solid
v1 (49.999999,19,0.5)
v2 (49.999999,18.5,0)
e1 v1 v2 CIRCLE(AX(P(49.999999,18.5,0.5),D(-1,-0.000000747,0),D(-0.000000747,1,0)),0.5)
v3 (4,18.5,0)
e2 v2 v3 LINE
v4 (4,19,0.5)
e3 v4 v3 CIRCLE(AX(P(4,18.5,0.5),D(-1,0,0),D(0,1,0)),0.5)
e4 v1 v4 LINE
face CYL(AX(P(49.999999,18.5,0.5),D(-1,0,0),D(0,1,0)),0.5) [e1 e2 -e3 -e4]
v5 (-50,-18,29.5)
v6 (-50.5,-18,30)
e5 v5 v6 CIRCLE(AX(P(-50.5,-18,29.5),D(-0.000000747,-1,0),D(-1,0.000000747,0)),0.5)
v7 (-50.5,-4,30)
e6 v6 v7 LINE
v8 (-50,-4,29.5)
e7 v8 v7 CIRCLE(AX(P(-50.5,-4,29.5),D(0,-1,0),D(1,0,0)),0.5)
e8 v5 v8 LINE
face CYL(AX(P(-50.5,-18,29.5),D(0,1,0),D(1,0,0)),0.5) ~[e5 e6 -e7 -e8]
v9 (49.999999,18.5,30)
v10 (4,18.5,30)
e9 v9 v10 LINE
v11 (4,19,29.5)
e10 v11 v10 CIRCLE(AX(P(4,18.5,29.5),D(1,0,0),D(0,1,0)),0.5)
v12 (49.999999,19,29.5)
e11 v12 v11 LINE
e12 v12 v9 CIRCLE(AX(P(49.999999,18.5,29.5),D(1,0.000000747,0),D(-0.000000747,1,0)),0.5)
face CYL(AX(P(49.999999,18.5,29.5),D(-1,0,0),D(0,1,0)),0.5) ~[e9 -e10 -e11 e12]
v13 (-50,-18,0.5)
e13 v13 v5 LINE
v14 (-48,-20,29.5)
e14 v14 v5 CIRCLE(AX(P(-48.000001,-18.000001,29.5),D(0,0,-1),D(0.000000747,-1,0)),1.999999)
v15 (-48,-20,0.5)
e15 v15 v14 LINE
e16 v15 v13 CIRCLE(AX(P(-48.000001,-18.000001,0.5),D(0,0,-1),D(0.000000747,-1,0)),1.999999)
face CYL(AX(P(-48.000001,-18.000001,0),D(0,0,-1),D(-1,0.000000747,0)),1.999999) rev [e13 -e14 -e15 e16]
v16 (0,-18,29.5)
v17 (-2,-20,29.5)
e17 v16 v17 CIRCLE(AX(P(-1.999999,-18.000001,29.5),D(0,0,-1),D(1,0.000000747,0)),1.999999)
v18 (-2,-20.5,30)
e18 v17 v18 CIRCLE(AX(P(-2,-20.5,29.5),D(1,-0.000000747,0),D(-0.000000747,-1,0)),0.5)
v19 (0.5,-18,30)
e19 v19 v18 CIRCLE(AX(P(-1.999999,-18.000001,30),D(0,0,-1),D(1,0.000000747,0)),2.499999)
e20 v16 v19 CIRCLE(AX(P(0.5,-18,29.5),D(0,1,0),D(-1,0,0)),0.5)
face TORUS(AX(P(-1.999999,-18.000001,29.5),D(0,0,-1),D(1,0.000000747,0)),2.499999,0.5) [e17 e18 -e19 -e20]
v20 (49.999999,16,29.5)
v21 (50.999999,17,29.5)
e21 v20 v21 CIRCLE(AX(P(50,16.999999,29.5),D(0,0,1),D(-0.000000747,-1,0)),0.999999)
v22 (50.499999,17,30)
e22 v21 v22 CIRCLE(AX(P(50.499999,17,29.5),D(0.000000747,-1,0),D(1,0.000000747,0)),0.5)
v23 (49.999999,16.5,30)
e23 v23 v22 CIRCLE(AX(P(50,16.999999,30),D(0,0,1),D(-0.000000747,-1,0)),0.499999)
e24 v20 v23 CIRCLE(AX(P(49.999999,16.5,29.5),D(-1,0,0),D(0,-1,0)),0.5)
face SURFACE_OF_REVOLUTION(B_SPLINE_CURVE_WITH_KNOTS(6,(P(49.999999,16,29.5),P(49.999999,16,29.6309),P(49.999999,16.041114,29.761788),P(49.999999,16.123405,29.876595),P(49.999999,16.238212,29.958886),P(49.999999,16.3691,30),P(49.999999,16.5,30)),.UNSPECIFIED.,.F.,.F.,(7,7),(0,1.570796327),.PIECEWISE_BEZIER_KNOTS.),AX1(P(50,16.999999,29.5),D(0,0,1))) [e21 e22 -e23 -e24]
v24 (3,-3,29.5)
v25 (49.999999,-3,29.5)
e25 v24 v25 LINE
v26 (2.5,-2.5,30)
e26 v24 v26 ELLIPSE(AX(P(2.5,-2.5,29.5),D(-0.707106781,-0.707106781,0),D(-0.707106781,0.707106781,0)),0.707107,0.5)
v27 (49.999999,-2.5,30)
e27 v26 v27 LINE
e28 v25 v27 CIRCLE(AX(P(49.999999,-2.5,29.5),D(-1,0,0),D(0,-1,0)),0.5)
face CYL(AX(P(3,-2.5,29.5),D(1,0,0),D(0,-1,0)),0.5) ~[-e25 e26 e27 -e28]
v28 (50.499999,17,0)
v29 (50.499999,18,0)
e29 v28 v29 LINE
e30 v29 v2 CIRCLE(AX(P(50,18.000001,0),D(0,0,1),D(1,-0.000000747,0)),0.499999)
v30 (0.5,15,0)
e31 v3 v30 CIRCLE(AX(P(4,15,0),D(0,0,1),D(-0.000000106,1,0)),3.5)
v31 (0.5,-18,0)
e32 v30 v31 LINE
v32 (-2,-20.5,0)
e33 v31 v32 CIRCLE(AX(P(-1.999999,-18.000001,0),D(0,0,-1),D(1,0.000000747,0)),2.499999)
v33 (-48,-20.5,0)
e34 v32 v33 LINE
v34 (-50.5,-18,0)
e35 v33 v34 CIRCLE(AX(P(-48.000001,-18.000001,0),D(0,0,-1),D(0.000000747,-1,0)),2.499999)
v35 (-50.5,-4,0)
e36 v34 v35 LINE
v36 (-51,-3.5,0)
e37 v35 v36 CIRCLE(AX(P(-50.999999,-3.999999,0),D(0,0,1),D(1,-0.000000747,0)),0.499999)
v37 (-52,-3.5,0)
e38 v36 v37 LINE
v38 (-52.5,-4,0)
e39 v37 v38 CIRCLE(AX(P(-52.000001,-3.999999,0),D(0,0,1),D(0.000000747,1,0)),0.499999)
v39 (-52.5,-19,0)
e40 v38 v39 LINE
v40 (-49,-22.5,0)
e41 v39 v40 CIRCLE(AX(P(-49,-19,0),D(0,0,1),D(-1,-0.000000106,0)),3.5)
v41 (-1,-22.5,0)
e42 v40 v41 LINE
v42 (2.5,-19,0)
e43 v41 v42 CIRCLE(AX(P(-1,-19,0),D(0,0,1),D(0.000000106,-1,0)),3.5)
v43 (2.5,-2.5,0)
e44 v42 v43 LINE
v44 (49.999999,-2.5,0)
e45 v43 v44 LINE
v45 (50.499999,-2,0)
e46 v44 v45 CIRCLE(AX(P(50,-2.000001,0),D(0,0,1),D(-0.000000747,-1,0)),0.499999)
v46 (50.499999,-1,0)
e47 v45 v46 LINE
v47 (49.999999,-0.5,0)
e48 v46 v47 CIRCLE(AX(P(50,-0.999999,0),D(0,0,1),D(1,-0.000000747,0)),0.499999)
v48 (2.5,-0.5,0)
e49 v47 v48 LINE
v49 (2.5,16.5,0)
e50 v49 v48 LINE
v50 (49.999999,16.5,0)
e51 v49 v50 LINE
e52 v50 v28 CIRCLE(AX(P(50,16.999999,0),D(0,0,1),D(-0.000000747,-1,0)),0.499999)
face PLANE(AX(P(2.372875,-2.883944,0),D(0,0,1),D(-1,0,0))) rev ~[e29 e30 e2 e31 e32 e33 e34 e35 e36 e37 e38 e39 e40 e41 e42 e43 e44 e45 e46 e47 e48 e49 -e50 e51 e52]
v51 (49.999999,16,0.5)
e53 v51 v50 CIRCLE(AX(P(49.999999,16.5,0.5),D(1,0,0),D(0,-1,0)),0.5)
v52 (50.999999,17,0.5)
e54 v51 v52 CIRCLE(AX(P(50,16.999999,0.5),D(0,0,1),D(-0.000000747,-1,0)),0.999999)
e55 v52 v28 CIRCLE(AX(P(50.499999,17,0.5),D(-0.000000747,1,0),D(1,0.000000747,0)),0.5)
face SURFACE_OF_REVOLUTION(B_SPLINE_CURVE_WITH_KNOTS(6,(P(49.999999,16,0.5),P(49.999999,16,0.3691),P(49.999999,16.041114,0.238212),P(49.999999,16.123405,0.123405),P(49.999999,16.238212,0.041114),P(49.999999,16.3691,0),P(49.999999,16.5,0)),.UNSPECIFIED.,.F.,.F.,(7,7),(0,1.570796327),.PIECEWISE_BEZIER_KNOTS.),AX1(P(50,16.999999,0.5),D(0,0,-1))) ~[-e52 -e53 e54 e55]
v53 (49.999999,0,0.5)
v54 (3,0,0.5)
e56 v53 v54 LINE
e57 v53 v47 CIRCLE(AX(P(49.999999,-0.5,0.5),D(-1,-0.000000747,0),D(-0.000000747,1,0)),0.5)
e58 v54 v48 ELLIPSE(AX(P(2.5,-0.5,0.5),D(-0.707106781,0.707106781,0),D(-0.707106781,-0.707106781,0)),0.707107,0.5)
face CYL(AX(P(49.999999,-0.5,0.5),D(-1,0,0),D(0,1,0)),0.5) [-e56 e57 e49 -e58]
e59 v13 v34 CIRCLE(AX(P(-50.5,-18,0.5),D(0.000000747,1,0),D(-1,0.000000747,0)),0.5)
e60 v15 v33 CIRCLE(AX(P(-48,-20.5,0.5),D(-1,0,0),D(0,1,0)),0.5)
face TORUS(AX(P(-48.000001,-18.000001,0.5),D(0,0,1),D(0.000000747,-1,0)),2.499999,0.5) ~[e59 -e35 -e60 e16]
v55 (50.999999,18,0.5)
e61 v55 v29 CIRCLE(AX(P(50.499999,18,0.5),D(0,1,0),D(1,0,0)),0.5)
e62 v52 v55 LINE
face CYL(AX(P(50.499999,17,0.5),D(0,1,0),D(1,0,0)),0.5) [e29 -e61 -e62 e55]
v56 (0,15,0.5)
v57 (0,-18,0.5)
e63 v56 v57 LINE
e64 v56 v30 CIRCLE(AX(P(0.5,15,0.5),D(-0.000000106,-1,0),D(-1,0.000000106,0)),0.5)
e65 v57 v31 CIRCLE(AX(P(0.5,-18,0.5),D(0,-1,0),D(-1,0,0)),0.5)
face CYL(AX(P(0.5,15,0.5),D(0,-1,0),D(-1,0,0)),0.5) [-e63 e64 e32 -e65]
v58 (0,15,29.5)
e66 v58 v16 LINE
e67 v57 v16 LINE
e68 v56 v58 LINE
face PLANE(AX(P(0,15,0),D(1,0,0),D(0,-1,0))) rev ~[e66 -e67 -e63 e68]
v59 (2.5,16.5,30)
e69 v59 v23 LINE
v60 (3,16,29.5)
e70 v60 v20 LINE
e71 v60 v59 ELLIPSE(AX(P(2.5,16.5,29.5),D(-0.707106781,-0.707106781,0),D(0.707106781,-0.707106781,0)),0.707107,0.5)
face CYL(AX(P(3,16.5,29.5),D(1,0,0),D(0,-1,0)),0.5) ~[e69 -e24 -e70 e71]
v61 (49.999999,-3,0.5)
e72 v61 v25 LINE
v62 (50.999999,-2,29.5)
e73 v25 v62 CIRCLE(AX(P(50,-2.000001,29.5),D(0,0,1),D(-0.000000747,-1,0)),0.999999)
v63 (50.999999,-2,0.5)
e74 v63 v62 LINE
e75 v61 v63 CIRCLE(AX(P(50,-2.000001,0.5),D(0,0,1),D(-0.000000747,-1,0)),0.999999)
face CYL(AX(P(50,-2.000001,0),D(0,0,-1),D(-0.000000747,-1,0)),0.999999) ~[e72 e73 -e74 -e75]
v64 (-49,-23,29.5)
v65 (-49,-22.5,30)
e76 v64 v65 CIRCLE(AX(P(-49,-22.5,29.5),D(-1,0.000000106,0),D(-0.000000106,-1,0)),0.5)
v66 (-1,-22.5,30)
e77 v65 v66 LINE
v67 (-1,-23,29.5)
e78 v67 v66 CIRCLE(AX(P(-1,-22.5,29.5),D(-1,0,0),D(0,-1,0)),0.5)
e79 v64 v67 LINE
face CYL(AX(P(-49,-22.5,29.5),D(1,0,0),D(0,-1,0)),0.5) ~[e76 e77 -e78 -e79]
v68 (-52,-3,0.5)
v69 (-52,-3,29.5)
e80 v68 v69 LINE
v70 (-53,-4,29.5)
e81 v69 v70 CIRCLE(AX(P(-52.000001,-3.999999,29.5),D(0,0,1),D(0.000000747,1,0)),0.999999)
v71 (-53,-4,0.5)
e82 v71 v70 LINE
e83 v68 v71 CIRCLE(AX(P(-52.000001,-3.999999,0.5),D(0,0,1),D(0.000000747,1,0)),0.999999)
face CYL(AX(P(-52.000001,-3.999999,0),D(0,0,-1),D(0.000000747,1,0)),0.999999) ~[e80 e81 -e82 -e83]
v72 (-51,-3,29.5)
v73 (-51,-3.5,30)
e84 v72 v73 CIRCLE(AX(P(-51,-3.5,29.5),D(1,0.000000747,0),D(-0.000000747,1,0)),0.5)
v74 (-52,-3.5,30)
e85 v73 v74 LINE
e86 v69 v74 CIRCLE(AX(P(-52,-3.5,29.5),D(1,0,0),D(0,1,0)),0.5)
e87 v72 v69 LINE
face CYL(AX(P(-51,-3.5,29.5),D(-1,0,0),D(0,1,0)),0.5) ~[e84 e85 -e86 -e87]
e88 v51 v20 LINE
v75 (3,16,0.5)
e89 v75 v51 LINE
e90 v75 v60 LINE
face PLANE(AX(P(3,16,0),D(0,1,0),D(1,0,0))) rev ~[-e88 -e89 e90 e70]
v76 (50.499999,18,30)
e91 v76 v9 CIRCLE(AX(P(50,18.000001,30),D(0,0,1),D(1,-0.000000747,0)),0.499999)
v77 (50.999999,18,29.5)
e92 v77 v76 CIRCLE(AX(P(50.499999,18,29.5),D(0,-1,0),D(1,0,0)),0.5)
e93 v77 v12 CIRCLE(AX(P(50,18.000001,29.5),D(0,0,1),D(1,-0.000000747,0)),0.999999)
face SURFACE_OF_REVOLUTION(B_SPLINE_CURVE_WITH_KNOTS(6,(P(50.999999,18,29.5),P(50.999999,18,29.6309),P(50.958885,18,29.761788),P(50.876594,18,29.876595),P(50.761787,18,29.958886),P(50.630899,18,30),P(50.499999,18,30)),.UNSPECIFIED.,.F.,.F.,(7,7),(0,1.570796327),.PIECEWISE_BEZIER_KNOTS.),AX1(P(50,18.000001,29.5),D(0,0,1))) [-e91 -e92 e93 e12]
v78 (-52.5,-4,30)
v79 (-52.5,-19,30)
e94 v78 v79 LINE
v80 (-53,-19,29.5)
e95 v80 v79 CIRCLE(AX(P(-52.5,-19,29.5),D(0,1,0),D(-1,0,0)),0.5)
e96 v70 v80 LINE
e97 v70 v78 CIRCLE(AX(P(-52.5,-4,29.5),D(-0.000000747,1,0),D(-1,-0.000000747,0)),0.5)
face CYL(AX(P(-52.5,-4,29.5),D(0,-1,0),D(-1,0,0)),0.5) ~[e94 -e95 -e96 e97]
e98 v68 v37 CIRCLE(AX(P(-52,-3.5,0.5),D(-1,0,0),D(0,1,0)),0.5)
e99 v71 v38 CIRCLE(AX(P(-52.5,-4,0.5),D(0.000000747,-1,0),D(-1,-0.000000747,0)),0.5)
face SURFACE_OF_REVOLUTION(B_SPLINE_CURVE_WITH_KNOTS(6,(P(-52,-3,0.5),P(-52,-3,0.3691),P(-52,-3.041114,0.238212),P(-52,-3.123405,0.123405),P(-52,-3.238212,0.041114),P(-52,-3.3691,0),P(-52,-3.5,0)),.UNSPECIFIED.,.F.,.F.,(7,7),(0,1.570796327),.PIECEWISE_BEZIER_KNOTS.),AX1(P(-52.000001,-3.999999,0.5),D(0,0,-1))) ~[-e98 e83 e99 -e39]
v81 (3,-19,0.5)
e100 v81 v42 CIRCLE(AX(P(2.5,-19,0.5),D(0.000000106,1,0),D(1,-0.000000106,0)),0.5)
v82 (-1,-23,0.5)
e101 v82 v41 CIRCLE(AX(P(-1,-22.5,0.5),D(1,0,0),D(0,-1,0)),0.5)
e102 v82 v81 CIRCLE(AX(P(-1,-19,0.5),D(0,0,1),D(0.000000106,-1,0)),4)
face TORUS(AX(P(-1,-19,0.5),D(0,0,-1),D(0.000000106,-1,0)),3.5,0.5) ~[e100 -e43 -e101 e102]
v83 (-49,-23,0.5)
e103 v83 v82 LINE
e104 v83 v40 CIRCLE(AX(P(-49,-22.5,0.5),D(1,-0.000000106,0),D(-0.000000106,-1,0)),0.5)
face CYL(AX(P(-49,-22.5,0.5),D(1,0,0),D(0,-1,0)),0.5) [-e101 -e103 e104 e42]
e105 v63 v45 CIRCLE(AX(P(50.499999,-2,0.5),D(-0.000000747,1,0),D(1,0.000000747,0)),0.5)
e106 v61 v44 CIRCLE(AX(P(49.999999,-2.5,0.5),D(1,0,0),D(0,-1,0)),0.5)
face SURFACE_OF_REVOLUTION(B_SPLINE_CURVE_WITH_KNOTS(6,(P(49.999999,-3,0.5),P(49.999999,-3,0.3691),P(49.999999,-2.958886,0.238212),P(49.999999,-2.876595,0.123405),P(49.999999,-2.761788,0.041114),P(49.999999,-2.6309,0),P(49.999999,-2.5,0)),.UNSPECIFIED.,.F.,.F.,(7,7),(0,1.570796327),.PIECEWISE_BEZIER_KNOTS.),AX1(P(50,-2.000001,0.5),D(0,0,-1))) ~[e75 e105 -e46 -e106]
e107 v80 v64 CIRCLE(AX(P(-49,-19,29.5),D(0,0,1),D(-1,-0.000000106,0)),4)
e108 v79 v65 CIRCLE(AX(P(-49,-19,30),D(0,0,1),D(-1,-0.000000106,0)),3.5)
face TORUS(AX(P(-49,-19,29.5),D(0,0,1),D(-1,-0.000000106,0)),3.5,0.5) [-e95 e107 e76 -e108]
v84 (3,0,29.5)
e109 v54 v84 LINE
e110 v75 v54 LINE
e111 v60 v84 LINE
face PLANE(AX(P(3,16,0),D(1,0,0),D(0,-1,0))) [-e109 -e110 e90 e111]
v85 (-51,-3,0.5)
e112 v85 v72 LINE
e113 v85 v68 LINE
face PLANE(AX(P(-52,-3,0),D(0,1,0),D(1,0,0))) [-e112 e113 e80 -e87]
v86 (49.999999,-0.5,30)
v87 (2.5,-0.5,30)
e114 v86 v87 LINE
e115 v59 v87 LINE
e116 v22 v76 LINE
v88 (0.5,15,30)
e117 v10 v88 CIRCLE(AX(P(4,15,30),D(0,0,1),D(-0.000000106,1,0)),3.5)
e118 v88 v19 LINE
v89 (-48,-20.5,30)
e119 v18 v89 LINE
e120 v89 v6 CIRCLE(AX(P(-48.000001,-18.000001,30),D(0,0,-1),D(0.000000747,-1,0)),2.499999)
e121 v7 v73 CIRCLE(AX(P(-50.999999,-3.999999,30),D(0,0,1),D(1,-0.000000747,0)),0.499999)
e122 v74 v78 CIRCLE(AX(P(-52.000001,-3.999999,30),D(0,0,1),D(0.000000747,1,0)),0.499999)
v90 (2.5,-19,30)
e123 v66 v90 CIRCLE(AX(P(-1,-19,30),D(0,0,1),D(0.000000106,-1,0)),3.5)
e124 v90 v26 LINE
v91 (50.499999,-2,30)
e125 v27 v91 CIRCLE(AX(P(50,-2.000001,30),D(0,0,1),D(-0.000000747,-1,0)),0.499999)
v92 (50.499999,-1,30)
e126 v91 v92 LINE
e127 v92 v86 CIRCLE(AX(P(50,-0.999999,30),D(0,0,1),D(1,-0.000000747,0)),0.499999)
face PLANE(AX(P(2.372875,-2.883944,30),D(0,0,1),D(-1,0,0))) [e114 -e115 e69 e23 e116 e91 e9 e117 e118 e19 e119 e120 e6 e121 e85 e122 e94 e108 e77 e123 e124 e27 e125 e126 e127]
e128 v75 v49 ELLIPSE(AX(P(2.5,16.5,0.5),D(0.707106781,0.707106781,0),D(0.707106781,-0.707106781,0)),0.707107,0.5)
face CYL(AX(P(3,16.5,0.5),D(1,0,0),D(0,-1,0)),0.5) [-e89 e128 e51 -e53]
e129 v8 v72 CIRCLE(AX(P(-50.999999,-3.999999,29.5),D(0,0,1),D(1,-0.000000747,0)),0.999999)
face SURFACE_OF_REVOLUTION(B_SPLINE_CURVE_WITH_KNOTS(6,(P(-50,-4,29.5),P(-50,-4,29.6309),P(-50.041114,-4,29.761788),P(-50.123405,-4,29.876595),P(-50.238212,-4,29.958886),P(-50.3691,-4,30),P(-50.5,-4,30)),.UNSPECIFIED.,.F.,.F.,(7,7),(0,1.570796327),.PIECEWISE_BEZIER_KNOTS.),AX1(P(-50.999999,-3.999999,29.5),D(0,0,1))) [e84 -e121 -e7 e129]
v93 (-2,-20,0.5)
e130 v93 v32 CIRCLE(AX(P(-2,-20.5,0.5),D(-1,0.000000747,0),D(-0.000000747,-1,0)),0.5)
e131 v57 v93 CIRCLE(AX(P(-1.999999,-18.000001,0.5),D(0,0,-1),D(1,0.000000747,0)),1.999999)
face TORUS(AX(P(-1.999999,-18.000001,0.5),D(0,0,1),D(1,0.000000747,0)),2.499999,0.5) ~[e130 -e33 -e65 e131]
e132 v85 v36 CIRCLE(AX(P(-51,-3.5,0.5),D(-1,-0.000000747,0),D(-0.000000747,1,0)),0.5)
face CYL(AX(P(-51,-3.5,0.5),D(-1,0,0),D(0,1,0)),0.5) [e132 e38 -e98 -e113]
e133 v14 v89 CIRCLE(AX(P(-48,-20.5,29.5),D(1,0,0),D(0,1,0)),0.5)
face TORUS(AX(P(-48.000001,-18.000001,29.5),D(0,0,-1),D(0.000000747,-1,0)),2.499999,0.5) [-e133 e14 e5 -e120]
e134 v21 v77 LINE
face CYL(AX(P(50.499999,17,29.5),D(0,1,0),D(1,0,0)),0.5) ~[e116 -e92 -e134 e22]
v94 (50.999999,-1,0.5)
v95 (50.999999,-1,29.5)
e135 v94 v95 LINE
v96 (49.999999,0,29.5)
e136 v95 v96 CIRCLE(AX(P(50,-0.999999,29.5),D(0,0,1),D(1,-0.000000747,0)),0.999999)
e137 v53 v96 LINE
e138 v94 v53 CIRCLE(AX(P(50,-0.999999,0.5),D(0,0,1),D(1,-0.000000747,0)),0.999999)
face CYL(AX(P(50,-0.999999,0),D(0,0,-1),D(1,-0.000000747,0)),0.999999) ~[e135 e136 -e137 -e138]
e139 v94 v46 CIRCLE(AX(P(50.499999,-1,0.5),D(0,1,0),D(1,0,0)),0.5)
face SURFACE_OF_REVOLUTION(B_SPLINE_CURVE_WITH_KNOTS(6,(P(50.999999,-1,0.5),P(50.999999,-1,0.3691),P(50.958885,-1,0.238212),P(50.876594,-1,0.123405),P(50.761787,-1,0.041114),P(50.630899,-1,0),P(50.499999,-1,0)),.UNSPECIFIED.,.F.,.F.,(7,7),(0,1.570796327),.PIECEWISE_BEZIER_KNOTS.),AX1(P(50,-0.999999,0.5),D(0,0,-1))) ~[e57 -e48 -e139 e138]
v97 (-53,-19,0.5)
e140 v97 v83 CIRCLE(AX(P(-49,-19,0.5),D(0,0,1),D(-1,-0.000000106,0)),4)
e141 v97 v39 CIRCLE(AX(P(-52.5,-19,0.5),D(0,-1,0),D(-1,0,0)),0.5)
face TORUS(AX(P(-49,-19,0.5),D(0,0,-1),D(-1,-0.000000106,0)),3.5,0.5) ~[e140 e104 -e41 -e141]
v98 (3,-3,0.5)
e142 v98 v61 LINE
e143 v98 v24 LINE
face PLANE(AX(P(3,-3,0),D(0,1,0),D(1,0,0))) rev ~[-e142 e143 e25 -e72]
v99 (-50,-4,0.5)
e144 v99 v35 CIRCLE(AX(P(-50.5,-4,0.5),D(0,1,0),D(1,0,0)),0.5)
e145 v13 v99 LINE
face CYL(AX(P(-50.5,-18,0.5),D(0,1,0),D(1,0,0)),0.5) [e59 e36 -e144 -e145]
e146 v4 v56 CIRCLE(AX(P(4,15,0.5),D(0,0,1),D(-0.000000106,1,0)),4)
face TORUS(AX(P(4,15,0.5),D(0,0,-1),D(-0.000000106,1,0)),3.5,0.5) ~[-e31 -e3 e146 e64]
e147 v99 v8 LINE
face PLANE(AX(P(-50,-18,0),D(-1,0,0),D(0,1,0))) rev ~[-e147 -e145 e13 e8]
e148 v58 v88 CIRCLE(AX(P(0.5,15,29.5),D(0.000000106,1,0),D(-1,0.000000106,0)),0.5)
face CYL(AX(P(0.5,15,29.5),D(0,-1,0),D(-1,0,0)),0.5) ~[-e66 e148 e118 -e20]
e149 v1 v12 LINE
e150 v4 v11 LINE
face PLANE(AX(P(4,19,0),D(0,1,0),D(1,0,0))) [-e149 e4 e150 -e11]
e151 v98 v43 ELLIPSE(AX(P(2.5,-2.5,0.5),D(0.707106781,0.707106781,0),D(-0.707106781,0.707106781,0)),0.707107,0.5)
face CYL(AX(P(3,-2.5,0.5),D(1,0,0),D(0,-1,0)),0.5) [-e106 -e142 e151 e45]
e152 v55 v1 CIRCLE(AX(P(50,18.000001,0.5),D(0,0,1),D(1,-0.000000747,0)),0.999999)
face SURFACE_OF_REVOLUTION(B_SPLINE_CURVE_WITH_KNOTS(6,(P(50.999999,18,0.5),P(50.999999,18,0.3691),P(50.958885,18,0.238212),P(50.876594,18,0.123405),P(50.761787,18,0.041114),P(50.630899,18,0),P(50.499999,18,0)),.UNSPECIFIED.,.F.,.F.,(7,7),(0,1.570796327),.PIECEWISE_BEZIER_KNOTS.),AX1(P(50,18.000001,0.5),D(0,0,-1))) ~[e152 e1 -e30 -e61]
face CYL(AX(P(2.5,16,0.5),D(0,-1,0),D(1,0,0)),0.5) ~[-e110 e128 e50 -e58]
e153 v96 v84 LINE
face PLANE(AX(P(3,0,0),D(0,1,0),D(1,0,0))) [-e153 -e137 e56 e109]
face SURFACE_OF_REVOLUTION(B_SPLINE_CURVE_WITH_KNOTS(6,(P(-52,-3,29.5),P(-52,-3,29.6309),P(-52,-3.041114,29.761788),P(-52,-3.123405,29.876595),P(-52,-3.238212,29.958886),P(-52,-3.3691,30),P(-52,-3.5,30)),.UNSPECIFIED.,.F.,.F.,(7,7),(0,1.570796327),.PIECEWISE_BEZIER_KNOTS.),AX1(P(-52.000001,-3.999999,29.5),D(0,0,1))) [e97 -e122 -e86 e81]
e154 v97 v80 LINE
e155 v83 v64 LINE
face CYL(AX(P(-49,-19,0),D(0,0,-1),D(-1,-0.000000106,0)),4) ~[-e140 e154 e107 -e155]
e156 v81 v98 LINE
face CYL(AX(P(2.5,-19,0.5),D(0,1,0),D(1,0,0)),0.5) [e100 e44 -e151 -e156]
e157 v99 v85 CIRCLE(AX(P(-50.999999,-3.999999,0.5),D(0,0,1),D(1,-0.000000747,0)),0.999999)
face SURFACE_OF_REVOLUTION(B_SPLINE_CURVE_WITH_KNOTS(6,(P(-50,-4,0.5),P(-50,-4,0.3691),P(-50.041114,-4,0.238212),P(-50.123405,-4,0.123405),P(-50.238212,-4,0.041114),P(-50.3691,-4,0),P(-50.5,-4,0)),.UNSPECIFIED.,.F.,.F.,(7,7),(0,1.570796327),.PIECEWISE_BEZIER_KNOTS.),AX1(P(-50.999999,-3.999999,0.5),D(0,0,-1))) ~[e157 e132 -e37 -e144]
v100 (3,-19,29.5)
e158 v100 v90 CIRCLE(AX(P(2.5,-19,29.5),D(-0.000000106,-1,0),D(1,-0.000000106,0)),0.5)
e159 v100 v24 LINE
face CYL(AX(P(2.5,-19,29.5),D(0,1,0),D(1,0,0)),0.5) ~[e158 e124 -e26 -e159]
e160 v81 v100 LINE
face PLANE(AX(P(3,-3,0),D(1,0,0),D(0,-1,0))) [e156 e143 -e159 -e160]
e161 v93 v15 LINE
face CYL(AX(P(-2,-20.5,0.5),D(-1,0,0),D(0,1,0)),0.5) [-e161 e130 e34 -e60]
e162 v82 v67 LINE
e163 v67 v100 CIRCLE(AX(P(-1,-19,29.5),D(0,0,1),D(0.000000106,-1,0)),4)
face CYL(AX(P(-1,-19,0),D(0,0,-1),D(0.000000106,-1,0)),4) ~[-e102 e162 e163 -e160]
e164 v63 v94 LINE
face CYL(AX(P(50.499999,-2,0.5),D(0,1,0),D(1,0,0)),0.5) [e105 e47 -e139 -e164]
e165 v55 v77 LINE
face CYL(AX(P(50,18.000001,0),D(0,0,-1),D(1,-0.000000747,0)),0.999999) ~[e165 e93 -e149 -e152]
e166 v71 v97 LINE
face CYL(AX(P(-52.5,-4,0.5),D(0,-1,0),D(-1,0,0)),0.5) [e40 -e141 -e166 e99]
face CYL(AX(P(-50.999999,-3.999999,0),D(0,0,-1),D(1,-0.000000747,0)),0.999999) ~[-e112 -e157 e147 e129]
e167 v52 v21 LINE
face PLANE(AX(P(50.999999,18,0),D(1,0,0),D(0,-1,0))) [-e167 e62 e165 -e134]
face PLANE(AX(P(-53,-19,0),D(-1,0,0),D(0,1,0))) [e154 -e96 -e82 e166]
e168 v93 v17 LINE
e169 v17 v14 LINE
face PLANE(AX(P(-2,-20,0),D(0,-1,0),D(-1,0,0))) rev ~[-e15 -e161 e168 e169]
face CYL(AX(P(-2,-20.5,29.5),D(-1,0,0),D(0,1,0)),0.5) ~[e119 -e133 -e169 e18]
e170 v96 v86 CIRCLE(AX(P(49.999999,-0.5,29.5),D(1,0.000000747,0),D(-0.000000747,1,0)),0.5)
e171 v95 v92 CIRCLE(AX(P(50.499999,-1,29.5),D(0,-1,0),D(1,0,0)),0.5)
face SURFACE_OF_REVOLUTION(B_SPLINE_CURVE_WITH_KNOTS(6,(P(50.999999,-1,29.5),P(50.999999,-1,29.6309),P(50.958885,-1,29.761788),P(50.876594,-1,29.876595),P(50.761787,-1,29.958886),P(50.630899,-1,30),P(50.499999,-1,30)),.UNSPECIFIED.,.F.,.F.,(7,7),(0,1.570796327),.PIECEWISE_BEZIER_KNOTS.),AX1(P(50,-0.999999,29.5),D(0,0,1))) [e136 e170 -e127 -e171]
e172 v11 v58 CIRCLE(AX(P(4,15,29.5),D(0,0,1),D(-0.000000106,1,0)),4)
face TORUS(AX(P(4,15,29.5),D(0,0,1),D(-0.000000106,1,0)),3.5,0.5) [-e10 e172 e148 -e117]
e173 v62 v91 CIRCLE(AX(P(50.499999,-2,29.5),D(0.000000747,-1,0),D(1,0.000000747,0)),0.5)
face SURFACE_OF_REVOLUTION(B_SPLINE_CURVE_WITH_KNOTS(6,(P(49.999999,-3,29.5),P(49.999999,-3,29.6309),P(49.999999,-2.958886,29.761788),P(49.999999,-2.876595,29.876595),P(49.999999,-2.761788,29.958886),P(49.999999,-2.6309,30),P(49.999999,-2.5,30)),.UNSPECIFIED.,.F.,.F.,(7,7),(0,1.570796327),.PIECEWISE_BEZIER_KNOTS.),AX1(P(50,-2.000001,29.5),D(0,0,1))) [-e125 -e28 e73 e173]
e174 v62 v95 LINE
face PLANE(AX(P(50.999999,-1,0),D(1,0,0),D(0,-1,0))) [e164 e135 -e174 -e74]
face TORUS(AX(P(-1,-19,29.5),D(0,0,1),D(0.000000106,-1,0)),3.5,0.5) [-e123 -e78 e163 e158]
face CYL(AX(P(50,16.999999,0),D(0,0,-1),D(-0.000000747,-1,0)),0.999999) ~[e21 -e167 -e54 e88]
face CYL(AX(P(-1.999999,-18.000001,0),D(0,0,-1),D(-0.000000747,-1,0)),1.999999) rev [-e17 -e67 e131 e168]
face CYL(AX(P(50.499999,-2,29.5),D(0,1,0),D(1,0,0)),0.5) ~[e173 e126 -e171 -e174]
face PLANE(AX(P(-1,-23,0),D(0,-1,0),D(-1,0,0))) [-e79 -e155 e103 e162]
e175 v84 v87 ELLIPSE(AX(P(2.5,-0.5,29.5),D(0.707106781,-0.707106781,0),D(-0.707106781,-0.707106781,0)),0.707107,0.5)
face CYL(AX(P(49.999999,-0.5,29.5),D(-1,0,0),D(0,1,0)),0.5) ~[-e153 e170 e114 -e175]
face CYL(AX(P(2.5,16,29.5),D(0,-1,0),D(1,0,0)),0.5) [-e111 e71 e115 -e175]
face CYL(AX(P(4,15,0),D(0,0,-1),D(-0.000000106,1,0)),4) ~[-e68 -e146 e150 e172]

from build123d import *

# Parameters (mm, degrees)
PAD_DEPTH = 30
FILLET_R  = 0.5


with BuildPart() as part:
    # Sketch → Pad (new body)
    with BuildSketch(Plane(origin=(0, 0, 0), x_dir=(-1, 0, 0), z_dir=(0, 0, 1))):
        with BuildLine():
            ThreePointArc((1, 23), (-1.828427, 21.828427), (-3, 19))
            Line((-3, 3), (-3, 19))
            Line((-3, 3), (-49.999999, 3))
            ThreePointArc((-49.999999, 3), (-50.707106, 2.707107), (-50.999999, 2))
            Line((-50.999999, 1), (-50.999999, 2))
            ThreePointArc((-50.999999, 1), (-50.707106, 0.292893), (-49.999999, 0))
            Line((-3, 0), (-49.999999, 0))
            Line((-3, -16), (-3, 0))
            Line((-3, -16), (-49.999999, -16))
            ThreePointArc((-49.999999, -16), (-50.707106, -16.292893), (-50.999999, -17))
            Line((-50.999999, -18), (-50.999999, -17))
            ThreePointArc((-50.999999, -18), (-50.707106, -18.707107), (-49.999999, -19))
            Line((-4, -19), (-49.999999, -19))
            ThreePointArc((-4, -19), (-1.171573, -17.828427), (0, -15))
            Line((0, -15), (0, 18))
            ThreePointArc((2, 20), (0.585786, 19.414214), (0, 18))
            Line((2, 20), (48, 20))
            ThreePointArc((50, 18), (49.414214, 19.414214), (48, 20))
            Line((50, 18), (50, 4))
            ThreePointArc((50, 4), (50.292893, 3.292893), (51, 3))
            Line((52, 3), (51, 3))
            ThreePointArc((52, 3), (52.707107, 3.292893), (53, 4))
            Line((53, 19), (53, 4))
            ThreePointArc((53, 19), (51.828427, 21.828427), (49, 23))
            Line((1, 23), (49, 23))
        make_face()
    extrude(amount=PAD_DEPTH)

    # Fillet
    fillet_edges = [part.edges().sort_by_distance(p)[0] for p in [
        (-51.828427, -21.828427, 0),
        (-25, -23, 0),
        (1.828427, -21.828427, 0),
        (3, -11, 0),
        (26.5, -3, 0),
        (50.707106, -2.707107, 0),
        (50.999999, -1.5, 0),
        (50.707106, -0.292893, 0),
        (26.5, 0, 0),
        (3, 8, 0),
        (26.5, 16, 0),
        (50.707106, 16.292893, 0),
        (50.999999, 17.5, 0),
        (50.707106, 18.707107, 0),
        (27, 19, 0),
        (1.171573, 17.828427, 0),
        (0, -1.5, 0),
        (-0.585786, -19.414214, 0),
        (-25, -20, 0),
        (-49.414214, -19.414214, 0),
        (-50, -11, 0),
        (-50.292893, -3.292893, 0),
        (-51.5, -3, 0),
        (-52.707107, -3.292893, 0),
        (-53, -11.5, 0),
        (-51.828427, -21.828427, 30),
        (-25, -23, 30),
        (1.828427, -21.828427, 30),
        (3, -11, 30),
        (26.5, -3, 30),
        (50.707106, -2.707107, 30),
        (50.999999, -1.5, 30),
        (50.707106, -0.292893, 30),
        (26.5, 0, 30),
        (3, 8, 30),
        (26.5, 16, 30),
        (50.707106, 16.292893, 30),
        (50.999999, 17.5, 30),
        (50.707106, 18.707107, 30),
        (27, 19, 30),
        (1.171573, 17.828427, 30),
        (0, -1.5, 30),
        (-0.585786, -19.414214, 30),
        (-25, -20, 30),
        (-49.414214, -19.414214, 30),
        (-50, -11, 30),
        (-50.292893, -3.292893, 30),
        (-51.5, -3, 30),
        (-52.707107, -3.292893, 30),
        (-53, -11.5, 30),
    ]]
    fillet(fillet_edges, radius=FILLET_R)


solid = part.part
